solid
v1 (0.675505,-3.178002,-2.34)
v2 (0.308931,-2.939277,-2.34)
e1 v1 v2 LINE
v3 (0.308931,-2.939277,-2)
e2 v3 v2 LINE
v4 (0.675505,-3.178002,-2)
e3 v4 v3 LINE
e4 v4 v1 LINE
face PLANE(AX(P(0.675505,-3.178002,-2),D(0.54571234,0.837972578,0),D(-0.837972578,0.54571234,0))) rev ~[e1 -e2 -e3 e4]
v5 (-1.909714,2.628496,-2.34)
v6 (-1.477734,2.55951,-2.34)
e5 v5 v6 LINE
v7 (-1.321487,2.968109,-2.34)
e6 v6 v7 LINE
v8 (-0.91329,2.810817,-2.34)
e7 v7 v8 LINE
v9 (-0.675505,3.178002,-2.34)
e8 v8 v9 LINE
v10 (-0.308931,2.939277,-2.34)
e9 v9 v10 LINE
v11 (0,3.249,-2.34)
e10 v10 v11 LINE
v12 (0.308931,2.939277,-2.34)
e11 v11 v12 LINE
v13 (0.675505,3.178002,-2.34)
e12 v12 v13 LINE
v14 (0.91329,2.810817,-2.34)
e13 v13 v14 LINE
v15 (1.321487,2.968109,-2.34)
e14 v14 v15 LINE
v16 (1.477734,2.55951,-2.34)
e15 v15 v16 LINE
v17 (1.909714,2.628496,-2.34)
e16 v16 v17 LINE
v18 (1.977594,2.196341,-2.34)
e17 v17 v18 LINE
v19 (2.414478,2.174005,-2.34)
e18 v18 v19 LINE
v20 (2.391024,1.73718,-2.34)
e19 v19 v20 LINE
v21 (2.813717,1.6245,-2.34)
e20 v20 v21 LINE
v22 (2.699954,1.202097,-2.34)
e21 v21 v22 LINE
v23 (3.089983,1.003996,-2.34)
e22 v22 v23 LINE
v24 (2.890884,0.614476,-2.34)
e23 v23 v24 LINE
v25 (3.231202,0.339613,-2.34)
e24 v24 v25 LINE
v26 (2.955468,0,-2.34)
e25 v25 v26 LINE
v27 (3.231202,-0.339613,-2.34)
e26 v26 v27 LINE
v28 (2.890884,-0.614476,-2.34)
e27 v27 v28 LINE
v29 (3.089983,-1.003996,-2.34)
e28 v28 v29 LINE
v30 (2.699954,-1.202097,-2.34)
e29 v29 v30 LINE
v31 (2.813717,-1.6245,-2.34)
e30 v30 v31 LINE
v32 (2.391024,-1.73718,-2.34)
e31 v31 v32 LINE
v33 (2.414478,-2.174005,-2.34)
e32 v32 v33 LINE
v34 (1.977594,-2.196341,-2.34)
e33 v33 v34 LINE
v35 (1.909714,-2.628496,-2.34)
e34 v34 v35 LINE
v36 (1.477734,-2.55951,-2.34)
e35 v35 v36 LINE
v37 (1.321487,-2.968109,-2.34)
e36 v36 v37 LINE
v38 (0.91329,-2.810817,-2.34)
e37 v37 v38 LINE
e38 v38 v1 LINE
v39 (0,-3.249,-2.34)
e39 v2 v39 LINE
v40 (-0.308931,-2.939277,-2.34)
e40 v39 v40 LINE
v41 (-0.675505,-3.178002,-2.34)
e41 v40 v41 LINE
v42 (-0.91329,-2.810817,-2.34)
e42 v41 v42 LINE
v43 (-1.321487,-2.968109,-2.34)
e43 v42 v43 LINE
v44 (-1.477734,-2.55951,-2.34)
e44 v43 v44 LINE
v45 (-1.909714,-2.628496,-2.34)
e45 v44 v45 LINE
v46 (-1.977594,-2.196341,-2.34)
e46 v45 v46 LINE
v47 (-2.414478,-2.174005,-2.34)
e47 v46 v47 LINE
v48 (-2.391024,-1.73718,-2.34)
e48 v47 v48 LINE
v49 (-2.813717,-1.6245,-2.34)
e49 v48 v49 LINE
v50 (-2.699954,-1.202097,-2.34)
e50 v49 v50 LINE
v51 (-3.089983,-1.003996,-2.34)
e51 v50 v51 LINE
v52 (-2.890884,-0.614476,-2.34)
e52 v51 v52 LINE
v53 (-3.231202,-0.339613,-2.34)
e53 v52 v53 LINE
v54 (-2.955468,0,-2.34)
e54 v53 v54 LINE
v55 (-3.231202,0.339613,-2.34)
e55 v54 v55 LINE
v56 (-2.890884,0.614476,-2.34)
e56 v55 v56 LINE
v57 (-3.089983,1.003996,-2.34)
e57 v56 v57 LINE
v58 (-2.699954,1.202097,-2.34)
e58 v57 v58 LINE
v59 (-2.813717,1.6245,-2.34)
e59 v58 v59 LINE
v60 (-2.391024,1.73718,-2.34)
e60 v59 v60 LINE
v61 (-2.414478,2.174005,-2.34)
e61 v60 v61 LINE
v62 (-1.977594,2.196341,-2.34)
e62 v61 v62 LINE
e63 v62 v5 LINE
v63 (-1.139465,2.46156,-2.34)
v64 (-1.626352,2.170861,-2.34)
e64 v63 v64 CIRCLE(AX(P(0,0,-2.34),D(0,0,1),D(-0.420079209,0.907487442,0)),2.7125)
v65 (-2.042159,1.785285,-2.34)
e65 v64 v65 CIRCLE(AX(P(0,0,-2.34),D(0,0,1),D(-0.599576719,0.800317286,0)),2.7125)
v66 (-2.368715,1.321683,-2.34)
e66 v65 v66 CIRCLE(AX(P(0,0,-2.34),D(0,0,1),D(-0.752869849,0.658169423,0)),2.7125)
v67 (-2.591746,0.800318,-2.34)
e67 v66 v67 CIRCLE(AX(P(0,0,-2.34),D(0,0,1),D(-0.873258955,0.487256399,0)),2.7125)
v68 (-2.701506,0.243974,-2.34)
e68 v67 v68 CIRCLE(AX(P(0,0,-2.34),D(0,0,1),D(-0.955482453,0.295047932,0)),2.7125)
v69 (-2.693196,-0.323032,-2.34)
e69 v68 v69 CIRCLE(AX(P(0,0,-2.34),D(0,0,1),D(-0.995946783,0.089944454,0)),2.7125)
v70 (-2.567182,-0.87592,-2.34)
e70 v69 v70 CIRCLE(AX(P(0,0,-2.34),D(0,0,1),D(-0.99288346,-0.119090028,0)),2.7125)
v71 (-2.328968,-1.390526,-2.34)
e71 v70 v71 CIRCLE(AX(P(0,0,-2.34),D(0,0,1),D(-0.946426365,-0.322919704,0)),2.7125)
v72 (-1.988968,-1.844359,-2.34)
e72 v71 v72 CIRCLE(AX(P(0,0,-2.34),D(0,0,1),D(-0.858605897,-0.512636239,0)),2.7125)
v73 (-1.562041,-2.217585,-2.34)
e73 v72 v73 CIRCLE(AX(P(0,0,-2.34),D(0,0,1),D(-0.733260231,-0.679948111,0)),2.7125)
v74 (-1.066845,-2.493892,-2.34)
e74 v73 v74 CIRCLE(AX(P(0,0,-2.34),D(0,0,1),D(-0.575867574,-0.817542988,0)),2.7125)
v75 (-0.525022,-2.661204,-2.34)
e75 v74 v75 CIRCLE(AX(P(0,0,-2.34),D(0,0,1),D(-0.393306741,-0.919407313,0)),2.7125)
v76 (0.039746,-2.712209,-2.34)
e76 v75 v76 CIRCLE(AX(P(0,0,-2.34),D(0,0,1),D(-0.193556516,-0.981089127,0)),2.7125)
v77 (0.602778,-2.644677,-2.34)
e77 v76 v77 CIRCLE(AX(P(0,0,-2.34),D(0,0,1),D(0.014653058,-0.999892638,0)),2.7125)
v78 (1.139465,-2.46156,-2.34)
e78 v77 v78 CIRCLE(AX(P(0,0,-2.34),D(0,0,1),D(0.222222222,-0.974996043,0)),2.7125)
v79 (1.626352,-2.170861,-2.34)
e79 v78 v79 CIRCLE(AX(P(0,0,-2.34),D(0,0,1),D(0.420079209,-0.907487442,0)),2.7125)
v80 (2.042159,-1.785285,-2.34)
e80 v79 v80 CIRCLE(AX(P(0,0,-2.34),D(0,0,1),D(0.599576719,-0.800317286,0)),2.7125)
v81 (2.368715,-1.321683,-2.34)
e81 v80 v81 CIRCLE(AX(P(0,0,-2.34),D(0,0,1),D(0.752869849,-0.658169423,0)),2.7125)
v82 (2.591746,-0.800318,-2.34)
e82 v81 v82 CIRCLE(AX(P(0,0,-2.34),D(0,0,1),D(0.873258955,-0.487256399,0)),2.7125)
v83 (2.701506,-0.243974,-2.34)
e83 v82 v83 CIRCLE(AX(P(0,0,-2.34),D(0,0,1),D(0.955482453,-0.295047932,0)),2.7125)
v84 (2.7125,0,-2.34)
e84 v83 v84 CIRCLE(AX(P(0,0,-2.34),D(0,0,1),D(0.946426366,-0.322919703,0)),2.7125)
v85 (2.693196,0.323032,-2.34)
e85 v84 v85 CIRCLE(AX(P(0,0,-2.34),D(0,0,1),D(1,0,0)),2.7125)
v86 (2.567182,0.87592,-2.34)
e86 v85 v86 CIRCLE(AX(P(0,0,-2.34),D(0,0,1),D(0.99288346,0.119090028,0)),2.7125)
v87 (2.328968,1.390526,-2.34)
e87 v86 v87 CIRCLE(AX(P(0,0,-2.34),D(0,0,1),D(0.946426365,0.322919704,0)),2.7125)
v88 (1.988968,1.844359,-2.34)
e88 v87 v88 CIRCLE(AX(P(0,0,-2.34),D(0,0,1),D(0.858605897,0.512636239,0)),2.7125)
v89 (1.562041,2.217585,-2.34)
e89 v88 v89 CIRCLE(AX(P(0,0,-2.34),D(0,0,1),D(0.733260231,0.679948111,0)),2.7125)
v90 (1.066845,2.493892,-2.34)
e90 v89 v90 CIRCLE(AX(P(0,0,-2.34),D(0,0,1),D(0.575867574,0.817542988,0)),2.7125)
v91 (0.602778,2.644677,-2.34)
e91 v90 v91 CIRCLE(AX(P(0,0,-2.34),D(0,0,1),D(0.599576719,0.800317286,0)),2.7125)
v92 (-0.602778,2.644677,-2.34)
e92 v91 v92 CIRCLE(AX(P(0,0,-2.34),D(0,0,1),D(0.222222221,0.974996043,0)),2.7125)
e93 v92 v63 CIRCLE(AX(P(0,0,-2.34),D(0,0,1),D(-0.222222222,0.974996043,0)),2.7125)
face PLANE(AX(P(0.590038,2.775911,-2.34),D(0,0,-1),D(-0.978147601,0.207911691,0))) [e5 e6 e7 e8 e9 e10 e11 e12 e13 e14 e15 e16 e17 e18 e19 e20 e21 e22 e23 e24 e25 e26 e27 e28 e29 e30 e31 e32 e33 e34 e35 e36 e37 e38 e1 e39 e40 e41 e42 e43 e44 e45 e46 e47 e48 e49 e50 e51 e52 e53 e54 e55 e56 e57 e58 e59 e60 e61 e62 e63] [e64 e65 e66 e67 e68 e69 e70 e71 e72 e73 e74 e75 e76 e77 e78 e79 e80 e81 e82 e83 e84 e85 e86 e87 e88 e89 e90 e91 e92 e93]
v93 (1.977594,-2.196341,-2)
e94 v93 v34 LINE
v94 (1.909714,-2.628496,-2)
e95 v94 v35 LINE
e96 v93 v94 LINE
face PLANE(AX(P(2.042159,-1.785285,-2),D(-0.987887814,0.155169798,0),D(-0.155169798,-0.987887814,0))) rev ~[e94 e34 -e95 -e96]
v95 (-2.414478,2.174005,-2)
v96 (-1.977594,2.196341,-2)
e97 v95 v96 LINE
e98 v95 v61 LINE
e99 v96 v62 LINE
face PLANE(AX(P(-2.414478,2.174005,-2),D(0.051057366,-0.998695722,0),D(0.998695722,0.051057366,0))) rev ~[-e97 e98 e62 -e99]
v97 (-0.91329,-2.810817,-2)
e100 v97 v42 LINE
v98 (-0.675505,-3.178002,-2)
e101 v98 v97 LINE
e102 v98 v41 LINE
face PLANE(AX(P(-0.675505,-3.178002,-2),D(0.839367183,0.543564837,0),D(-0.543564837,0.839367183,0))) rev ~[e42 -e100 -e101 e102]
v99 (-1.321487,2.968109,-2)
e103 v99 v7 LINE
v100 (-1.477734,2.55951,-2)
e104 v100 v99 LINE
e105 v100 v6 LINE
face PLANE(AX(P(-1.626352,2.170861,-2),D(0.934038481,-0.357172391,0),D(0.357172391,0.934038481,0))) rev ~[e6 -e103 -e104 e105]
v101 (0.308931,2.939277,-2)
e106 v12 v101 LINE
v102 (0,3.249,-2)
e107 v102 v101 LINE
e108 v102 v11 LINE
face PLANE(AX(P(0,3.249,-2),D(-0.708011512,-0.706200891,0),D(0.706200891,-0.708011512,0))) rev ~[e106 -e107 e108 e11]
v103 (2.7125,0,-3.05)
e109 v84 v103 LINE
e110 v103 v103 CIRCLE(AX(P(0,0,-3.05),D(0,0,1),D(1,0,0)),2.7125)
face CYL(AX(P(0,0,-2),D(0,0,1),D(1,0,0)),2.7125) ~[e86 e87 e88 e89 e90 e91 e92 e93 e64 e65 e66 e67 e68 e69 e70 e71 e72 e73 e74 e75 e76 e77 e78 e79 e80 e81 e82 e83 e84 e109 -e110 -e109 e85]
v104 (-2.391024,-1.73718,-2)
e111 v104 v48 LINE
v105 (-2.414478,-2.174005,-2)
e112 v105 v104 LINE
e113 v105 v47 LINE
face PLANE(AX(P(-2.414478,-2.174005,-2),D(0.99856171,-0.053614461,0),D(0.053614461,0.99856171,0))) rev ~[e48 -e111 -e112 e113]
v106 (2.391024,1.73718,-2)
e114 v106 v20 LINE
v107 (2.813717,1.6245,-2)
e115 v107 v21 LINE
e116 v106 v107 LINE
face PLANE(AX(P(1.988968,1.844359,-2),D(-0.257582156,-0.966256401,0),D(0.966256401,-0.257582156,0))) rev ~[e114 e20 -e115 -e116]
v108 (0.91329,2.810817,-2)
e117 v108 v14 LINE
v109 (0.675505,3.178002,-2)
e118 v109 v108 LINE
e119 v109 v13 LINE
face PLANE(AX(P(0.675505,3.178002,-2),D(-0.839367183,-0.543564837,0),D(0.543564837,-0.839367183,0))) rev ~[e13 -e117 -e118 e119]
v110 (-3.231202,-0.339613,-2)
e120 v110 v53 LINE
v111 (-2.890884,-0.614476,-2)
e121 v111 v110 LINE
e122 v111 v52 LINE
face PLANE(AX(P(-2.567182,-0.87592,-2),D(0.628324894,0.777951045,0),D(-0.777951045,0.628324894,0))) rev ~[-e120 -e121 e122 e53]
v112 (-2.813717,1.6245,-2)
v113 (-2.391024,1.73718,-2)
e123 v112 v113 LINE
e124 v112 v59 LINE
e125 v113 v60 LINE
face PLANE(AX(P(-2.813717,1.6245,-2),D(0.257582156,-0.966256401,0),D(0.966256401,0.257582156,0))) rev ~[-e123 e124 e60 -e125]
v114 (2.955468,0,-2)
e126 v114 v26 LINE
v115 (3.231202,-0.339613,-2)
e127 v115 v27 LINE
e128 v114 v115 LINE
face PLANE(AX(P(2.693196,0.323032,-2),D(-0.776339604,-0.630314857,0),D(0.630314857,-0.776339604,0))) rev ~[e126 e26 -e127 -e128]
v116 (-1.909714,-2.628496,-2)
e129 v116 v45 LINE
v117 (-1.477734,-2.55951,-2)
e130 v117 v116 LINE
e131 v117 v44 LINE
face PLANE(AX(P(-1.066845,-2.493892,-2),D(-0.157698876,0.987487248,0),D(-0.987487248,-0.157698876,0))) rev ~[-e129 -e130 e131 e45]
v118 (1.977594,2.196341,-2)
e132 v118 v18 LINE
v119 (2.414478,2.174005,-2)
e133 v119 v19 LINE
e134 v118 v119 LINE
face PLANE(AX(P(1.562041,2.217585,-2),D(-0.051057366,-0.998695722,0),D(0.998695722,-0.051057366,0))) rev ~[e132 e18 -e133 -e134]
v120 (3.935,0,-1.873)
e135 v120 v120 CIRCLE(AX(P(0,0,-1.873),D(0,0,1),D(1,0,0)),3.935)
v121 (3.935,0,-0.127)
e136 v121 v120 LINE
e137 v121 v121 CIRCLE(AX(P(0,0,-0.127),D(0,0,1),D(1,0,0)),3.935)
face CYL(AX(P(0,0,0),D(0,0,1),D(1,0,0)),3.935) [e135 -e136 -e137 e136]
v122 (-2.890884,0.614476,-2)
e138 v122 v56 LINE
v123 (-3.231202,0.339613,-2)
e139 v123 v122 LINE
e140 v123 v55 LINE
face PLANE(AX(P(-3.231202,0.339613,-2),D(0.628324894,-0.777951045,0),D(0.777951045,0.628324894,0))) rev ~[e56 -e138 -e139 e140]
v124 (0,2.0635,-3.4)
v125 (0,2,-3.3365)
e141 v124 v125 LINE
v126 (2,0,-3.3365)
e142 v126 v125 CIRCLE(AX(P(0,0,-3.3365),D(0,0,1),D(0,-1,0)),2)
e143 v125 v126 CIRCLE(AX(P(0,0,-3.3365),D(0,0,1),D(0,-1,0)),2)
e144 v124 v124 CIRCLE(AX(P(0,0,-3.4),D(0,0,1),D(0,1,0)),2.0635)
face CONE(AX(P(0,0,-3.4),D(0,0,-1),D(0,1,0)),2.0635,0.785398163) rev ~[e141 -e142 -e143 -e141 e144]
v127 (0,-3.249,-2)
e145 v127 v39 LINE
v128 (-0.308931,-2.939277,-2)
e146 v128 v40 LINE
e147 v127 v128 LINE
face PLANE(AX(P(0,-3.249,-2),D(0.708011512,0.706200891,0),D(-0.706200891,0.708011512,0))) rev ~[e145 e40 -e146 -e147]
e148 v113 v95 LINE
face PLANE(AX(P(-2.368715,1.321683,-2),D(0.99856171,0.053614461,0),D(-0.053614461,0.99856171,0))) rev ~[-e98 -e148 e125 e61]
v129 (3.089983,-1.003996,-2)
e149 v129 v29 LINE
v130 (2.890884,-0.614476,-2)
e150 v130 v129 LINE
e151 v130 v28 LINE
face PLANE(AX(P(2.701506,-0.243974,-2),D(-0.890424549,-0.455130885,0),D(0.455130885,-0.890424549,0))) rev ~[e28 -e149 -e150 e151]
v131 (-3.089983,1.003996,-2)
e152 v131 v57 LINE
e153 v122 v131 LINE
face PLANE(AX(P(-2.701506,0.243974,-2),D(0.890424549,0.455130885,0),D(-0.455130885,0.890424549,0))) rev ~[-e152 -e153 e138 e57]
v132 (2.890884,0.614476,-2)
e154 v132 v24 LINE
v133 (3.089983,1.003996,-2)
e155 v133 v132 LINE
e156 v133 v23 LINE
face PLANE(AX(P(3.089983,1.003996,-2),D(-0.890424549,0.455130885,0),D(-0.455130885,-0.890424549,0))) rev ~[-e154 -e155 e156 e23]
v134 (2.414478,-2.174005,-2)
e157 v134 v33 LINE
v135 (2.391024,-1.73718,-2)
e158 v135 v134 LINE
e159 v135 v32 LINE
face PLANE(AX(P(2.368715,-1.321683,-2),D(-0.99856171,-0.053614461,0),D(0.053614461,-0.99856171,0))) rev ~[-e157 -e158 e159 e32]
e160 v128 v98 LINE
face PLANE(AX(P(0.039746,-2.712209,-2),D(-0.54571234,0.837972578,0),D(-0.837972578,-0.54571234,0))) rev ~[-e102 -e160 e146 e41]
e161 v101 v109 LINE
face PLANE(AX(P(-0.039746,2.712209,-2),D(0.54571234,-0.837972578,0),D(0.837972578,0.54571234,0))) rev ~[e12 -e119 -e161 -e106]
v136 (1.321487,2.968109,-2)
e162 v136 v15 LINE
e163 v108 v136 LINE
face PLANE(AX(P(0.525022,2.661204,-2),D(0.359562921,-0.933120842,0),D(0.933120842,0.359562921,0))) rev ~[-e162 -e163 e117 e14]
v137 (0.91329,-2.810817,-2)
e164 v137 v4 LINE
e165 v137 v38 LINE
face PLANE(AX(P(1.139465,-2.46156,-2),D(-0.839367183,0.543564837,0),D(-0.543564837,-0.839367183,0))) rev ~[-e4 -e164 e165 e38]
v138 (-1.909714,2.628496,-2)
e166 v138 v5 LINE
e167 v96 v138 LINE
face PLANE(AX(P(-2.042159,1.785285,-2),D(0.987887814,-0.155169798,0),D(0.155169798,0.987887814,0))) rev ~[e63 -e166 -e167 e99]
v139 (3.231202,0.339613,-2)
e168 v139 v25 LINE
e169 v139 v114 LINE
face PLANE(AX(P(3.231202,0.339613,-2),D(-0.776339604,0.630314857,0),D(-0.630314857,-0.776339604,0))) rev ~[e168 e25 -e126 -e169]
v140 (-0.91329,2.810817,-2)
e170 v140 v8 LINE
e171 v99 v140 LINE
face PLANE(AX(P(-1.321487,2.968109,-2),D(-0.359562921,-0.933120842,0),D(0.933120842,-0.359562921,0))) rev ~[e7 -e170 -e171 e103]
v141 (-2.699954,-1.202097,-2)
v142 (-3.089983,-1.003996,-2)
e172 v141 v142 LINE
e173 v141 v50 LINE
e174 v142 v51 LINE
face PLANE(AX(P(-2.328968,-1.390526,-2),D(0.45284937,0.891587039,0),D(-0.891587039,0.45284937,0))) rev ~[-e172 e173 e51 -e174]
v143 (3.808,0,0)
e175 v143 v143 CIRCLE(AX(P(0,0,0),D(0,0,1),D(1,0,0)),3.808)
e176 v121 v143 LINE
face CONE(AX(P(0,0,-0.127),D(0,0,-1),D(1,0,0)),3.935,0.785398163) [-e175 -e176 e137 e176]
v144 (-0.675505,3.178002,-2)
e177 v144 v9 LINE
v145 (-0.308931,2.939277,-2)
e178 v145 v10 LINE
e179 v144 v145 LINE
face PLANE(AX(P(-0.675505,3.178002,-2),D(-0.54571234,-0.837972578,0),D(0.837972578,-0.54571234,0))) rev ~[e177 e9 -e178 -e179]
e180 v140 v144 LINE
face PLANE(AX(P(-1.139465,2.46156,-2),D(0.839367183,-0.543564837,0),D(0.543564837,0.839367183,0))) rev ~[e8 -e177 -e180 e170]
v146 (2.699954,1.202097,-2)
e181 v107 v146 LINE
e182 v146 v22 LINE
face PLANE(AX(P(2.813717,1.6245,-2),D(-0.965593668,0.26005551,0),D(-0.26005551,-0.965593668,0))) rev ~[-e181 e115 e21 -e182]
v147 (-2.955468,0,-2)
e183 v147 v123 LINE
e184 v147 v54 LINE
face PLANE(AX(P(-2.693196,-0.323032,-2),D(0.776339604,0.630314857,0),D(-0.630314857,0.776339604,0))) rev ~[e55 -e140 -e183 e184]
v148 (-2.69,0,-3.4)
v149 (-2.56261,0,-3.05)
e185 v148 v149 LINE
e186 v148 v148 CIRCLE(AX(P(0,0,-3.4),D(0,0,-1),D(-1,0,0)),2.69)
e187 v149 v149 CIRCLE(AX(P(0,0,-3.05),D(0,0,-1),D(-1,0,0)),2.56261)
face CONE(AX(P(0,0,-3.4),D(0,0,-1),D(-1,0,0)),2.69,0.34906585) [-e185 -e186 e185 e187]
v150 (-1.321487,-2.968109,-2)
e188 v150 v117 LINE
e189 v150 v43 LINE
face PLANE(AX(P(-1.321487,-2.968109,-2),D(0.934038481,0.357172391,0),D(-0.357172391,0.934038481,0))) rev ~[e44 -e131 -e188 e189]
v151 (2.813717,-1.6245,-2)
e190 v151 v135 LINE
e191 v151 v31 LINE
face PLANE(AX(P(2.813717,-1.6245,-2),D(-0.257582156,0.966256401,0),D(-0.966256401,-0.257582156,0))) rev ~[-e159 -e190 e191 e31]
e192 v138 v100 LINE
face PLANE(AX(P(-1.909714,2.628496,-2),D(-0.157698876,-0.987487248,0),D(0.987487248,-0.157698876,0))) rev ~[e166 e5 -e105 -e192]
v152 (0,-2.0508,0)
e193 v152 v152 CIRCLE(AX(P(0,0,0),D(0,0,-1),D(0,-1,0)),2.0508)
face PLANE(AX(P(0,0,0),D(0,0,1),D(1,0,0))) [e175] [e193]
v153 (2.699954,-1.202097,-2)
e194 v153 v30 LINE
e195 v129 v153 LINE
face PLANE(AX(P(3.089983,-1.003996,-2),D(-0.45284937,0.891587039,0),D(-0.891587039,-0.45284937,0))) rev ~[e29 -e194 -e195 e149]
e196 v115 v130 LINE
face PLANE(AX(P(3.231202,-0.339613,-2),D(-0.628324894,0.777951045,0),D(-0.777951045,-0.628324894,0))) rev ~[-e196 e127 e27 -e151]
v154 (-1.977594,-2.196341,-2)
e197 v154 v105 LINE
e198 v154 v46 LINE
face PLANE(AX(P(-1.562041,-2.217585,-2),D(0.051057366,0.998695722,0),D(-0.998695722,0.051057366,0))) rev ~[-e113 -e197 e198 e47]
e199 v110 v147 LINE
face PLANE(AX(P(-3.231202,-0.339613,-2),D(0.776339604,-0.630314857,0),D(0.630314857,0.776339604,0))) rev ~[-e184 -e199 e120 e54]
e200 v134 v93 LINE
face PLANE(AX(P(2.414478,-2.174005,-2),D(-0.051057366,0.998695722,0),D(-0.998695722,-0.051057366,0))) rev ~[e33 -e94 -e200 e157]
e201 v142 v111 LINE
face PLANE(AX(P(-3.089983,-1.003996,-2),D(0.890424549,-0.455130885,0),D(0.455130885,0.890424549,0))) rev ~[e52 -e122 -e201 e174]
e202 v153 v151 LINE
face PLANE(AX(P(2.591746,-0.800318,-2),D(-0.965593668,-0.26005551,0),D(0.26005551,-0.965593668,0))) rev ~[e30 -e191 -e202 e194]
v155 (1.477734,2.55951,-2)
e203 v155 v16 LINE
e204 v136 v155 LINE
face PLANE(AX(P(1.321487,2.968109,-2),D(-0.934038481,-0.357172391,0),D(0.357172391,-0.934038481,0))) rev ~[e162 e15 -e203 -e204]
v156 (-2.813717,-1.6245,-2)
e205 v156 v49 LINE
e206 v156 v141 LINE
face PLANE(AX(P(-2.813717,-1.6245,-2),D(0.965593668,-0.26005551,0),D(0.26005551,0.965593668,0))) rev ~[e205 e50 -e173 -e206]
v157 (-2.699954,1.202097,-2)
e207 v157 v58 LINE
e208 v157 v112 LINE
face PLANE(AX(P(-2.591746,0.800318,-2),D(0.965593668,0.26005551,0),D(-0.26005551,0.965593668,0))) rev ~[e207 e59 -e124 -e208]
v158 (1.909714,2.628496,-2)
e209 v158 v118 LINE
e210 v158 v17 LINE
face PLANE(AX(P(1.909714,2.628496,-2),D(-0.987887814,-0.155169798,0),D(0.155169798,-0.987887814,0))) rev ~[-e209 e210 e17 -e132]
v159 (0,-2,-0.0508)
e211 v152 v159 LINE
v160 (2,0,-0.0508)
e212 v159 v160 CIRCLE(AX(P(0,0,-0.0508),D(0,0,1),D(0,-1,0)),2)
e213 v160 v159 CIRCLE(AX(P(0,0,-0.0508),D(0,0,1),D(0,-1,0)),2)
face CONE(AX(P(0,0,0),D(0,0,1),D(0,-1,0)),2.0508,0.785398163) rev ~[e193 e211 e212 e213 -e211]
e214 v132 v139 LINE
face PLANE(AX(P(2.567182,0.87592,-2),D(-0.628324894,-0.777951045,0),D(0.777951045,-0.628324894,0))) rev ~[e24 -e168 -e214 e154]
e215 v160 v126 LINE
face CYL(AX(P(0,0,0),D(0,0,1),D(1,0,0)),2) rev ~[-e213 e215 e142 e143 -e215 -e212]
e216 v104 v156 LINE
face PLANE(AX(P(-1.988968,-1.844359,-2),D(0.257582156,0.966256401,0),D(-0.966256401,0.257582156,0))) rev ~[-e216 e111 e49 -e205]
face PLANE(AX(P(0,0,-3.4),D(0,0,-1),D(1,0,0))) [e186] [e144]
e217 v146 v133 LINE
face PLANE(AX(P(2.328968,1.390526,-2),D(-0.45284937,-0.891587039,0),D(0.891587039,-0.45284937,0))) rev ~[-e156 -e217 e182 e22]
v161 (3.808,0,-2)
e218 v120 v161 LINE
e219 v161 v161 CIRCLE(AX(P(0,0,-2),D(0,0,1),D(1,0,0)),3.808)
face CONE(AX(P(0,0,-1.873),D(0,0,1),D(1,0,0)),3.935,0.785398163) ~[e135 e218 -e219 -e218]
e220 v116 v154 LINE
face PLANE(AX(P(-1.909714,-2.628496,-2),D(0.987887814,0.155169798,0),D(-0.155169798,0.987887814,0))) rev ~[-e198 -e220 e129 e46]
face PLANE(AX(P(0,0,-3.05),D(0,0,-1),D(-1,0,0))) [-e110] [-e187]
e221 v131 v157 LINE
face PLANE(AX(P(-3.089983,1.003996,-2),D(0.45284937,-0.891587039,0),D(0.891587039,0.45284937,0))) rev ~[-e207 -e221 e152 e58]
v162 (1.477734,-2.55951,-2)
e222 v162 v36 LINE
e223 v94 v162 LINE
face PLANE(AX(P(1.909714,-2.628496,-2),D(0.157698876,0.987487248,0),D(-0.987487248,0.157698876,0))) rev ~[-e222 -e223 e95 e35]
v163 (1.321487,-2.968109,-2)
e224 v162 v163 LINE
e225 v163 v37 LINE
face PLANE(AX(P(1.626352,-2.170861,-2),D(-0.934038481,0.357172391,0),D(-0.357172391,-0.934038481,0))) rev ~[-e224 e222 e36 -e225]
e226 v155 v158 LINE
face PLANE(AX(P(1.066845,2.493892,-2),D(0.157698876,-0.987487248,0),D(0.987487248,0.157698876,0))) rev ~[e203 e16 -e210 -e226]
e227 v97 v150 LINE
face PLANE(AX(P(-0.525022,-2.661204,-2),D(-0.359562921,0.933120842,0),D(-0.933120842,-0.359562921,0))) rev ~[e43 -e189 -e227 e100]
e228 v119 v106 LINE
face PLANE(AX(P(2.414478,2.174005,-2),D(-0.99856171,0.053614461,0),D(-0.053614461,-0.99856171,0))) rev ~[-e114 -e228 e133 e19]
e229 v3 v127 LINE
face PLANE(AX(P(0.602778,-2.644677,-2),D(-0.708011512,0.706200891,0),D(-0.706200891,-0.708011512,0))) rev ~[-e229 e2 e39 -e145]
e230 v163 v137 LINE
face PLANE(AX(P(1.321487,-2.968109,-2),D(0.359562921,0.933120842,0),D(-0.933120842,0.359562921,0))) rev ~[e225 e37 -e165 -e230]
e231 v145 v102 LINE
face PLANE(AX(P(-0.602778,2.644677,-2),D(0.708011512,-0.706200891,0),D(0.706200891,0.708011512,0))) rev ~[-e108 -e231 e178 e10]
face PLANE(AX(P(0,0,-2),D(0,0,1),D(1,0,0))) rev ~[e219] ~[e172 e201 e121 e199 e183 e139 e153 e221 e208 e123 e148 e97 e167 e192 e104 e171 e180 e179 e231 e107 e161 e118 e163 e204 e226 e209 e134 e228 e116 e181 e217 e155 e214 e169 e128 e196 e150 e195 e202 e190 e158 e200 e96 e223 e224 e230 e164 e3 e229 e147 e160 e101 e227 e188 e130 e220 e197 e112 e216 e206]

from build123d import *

# Parameters (mm, degrees)
SKETCH1_R           = 3.935
EXTRUDE1_DEPTH      = 2
SKETCH2_R           = 2.7125
EXTRUDE2_DEPTH      = 1.4
SKETCH5_OUTSIDE_W   = 12.452
SKETCH5_OUTSIDE_H   = 12.452
SKETCH5_OUTSIDE_R   = 2.69
CUT_EXTRUDE1_DEPTH  = 0.35
CUT_EXTRUDE1_DRAFT  = 20
CHAMFER2_SIZE       = 0.127
SKETCH7_R           = 2
CUT_EXTRUDE3_DEPTH  = 7.521384056
BOSS_EXTRUDE1_DEPTH = 0.34
CIRPATTERN4_COUNT   = 30


with BuildPart() as part:
    # Sketch1 → Extrude1 (new body)
    with BuildSketch(Plane.XY):
        Circle(SKETCH1_R)
    extrude(amount=-EXTRUDE1_DEPTH)

    # Sketch2 → Extrude2 (add)
    with BuildSketch(Plane(origin=(0, 0, -2), x_dir=(-1, 0, 0), z_dir=(0, 0, -1))):
        Circle(SKETCH2_R)
    extrude(amount=EXTRUDE2_DEPTH)


with BuildPart() as cut_extrude1_tool:
    # Sketch5 outside → Cut-Extrude1 (with draft: the straight prism first)
    with BuildSketch(Plane(origin=(0, 0, -3.4), x_dir=(-1, 0, 0), z_dir=(0, 0, -1))):
        Rectangle(SKETCH5_OUTSIDE_W, SKETCH5_OUTSIDE_H)
        Circle(SKETCH5_OUTSIDE_R, mode=Mode.SUBTRACT)
    extrude(amount=-CUT_EXTRUDE1_DEPTH)
    # Cut-Extrude1: the draft: its side faces are tilted about the plane it starts from
    cut_extrude1_sides = [cut_extrude1_tool.faces().sort_by_distance(p)[0] for p in [
        (0, -6.226, -3.225),
        (-6.226, 0, -3.225),
        (0, 6.226, -3.225),
        (6.226, 0, -3.225),
        (2.69, 0, -3.225),
    ]]
    draft(cut_extrude1_sides, Plane(origin=(0, 0, -3.4), x_dir=(-1, 0, 0), z_dir=(0, 0, -1)), CUT_EXTRUDE1_DRAFT)


with BuildPart() as part_1:
    add(part.part)

    # Cut-Extrude1: cut by cut_extrude1_tool
    add(cut_extrude1_tool.part, mode=Mode.SUBTRACT)

    # Chamfer2
    chamfer2_edges = [part_1.edges().sort_by_distance(p)[0] for p in [
        (-3.935, 0, 0),
        (-3.935, 0, -2),
    ]]
    chamfer(chamfer2_edges, length=CHAMFER2_SIZE)

    # Sketch7 → Cut-Extrude3 (cut, through all)
    with BuildSketch(Plane.XY):
        Circle(SKETCH7_R)
    extrude(amount=-CUT_EXTRUDE3_DEPTH, mode=Mode.SUBTRACT)

    # Cut-Extrude6 cone 1 section (through the dimple's axis) → Cut-Extrude6 (revolve, cut)
    with BuildSketch(Plane(origin=(0, 0, 0), x_dir=(0, -1, 0), z_dir=(1, 0, 0))):
        Polygon((0, 0), (2.0508, 0), (0, 2.0508), align=None)
    revolve(axis=Axis((0, 0, 0), (0, 0, -1)), mode=Mode.SUBTRACT)

    # Cut-Extrude7 cone 1 section (through the dimple's axis) → Cut-Extrude7 (revolve, cut)
    with BuildSketch(Plane(origin=(0, 0, -3.4), x_dir=(0, 1, 0), z_dir=(1, 0, 0))):
        Polygon((0, 0), (2.0635, 0), (0, 2.0635), align=None)
    revolve(axis=Axis((0, 0, -3.4), (0, 0, 1)), mode=Mode.SUBTRACT)

    # Sketch16 → Boss-Extrude1 (add)
    with BuildSketch(Plane(origin=(0, 0, -2), x_dir=(-1, 0, 0), z_dir=(0, 0, -1))):
        with BuildLine():
            Line((0, 3.249), (-0.602777778, 2.644676767))
            ThreePointArc((-0.602777778, 2.644676767), (0, 2.7125), (0.602777778, 2.644676767))
            Line((0.602777778, 2.644676767), (0, 3.249))
        make_face()
    boss_extrude1 = extrude(amount=BOSS_EXTRUDE1_DEPTH)

    # CirPattern4: Boss-Extrude1 ×30 about axis
    cirpattern4_axis = Axis((0, 0, -3.4), (0, 0, -1))
    for i in range(1, CIRPATTERN4_COUNT):
        add(boss_extrude1.rotate(cirpattern4_axis, i * 360 / CIRPATTERN4_COUNT))


solid = part_1.part
